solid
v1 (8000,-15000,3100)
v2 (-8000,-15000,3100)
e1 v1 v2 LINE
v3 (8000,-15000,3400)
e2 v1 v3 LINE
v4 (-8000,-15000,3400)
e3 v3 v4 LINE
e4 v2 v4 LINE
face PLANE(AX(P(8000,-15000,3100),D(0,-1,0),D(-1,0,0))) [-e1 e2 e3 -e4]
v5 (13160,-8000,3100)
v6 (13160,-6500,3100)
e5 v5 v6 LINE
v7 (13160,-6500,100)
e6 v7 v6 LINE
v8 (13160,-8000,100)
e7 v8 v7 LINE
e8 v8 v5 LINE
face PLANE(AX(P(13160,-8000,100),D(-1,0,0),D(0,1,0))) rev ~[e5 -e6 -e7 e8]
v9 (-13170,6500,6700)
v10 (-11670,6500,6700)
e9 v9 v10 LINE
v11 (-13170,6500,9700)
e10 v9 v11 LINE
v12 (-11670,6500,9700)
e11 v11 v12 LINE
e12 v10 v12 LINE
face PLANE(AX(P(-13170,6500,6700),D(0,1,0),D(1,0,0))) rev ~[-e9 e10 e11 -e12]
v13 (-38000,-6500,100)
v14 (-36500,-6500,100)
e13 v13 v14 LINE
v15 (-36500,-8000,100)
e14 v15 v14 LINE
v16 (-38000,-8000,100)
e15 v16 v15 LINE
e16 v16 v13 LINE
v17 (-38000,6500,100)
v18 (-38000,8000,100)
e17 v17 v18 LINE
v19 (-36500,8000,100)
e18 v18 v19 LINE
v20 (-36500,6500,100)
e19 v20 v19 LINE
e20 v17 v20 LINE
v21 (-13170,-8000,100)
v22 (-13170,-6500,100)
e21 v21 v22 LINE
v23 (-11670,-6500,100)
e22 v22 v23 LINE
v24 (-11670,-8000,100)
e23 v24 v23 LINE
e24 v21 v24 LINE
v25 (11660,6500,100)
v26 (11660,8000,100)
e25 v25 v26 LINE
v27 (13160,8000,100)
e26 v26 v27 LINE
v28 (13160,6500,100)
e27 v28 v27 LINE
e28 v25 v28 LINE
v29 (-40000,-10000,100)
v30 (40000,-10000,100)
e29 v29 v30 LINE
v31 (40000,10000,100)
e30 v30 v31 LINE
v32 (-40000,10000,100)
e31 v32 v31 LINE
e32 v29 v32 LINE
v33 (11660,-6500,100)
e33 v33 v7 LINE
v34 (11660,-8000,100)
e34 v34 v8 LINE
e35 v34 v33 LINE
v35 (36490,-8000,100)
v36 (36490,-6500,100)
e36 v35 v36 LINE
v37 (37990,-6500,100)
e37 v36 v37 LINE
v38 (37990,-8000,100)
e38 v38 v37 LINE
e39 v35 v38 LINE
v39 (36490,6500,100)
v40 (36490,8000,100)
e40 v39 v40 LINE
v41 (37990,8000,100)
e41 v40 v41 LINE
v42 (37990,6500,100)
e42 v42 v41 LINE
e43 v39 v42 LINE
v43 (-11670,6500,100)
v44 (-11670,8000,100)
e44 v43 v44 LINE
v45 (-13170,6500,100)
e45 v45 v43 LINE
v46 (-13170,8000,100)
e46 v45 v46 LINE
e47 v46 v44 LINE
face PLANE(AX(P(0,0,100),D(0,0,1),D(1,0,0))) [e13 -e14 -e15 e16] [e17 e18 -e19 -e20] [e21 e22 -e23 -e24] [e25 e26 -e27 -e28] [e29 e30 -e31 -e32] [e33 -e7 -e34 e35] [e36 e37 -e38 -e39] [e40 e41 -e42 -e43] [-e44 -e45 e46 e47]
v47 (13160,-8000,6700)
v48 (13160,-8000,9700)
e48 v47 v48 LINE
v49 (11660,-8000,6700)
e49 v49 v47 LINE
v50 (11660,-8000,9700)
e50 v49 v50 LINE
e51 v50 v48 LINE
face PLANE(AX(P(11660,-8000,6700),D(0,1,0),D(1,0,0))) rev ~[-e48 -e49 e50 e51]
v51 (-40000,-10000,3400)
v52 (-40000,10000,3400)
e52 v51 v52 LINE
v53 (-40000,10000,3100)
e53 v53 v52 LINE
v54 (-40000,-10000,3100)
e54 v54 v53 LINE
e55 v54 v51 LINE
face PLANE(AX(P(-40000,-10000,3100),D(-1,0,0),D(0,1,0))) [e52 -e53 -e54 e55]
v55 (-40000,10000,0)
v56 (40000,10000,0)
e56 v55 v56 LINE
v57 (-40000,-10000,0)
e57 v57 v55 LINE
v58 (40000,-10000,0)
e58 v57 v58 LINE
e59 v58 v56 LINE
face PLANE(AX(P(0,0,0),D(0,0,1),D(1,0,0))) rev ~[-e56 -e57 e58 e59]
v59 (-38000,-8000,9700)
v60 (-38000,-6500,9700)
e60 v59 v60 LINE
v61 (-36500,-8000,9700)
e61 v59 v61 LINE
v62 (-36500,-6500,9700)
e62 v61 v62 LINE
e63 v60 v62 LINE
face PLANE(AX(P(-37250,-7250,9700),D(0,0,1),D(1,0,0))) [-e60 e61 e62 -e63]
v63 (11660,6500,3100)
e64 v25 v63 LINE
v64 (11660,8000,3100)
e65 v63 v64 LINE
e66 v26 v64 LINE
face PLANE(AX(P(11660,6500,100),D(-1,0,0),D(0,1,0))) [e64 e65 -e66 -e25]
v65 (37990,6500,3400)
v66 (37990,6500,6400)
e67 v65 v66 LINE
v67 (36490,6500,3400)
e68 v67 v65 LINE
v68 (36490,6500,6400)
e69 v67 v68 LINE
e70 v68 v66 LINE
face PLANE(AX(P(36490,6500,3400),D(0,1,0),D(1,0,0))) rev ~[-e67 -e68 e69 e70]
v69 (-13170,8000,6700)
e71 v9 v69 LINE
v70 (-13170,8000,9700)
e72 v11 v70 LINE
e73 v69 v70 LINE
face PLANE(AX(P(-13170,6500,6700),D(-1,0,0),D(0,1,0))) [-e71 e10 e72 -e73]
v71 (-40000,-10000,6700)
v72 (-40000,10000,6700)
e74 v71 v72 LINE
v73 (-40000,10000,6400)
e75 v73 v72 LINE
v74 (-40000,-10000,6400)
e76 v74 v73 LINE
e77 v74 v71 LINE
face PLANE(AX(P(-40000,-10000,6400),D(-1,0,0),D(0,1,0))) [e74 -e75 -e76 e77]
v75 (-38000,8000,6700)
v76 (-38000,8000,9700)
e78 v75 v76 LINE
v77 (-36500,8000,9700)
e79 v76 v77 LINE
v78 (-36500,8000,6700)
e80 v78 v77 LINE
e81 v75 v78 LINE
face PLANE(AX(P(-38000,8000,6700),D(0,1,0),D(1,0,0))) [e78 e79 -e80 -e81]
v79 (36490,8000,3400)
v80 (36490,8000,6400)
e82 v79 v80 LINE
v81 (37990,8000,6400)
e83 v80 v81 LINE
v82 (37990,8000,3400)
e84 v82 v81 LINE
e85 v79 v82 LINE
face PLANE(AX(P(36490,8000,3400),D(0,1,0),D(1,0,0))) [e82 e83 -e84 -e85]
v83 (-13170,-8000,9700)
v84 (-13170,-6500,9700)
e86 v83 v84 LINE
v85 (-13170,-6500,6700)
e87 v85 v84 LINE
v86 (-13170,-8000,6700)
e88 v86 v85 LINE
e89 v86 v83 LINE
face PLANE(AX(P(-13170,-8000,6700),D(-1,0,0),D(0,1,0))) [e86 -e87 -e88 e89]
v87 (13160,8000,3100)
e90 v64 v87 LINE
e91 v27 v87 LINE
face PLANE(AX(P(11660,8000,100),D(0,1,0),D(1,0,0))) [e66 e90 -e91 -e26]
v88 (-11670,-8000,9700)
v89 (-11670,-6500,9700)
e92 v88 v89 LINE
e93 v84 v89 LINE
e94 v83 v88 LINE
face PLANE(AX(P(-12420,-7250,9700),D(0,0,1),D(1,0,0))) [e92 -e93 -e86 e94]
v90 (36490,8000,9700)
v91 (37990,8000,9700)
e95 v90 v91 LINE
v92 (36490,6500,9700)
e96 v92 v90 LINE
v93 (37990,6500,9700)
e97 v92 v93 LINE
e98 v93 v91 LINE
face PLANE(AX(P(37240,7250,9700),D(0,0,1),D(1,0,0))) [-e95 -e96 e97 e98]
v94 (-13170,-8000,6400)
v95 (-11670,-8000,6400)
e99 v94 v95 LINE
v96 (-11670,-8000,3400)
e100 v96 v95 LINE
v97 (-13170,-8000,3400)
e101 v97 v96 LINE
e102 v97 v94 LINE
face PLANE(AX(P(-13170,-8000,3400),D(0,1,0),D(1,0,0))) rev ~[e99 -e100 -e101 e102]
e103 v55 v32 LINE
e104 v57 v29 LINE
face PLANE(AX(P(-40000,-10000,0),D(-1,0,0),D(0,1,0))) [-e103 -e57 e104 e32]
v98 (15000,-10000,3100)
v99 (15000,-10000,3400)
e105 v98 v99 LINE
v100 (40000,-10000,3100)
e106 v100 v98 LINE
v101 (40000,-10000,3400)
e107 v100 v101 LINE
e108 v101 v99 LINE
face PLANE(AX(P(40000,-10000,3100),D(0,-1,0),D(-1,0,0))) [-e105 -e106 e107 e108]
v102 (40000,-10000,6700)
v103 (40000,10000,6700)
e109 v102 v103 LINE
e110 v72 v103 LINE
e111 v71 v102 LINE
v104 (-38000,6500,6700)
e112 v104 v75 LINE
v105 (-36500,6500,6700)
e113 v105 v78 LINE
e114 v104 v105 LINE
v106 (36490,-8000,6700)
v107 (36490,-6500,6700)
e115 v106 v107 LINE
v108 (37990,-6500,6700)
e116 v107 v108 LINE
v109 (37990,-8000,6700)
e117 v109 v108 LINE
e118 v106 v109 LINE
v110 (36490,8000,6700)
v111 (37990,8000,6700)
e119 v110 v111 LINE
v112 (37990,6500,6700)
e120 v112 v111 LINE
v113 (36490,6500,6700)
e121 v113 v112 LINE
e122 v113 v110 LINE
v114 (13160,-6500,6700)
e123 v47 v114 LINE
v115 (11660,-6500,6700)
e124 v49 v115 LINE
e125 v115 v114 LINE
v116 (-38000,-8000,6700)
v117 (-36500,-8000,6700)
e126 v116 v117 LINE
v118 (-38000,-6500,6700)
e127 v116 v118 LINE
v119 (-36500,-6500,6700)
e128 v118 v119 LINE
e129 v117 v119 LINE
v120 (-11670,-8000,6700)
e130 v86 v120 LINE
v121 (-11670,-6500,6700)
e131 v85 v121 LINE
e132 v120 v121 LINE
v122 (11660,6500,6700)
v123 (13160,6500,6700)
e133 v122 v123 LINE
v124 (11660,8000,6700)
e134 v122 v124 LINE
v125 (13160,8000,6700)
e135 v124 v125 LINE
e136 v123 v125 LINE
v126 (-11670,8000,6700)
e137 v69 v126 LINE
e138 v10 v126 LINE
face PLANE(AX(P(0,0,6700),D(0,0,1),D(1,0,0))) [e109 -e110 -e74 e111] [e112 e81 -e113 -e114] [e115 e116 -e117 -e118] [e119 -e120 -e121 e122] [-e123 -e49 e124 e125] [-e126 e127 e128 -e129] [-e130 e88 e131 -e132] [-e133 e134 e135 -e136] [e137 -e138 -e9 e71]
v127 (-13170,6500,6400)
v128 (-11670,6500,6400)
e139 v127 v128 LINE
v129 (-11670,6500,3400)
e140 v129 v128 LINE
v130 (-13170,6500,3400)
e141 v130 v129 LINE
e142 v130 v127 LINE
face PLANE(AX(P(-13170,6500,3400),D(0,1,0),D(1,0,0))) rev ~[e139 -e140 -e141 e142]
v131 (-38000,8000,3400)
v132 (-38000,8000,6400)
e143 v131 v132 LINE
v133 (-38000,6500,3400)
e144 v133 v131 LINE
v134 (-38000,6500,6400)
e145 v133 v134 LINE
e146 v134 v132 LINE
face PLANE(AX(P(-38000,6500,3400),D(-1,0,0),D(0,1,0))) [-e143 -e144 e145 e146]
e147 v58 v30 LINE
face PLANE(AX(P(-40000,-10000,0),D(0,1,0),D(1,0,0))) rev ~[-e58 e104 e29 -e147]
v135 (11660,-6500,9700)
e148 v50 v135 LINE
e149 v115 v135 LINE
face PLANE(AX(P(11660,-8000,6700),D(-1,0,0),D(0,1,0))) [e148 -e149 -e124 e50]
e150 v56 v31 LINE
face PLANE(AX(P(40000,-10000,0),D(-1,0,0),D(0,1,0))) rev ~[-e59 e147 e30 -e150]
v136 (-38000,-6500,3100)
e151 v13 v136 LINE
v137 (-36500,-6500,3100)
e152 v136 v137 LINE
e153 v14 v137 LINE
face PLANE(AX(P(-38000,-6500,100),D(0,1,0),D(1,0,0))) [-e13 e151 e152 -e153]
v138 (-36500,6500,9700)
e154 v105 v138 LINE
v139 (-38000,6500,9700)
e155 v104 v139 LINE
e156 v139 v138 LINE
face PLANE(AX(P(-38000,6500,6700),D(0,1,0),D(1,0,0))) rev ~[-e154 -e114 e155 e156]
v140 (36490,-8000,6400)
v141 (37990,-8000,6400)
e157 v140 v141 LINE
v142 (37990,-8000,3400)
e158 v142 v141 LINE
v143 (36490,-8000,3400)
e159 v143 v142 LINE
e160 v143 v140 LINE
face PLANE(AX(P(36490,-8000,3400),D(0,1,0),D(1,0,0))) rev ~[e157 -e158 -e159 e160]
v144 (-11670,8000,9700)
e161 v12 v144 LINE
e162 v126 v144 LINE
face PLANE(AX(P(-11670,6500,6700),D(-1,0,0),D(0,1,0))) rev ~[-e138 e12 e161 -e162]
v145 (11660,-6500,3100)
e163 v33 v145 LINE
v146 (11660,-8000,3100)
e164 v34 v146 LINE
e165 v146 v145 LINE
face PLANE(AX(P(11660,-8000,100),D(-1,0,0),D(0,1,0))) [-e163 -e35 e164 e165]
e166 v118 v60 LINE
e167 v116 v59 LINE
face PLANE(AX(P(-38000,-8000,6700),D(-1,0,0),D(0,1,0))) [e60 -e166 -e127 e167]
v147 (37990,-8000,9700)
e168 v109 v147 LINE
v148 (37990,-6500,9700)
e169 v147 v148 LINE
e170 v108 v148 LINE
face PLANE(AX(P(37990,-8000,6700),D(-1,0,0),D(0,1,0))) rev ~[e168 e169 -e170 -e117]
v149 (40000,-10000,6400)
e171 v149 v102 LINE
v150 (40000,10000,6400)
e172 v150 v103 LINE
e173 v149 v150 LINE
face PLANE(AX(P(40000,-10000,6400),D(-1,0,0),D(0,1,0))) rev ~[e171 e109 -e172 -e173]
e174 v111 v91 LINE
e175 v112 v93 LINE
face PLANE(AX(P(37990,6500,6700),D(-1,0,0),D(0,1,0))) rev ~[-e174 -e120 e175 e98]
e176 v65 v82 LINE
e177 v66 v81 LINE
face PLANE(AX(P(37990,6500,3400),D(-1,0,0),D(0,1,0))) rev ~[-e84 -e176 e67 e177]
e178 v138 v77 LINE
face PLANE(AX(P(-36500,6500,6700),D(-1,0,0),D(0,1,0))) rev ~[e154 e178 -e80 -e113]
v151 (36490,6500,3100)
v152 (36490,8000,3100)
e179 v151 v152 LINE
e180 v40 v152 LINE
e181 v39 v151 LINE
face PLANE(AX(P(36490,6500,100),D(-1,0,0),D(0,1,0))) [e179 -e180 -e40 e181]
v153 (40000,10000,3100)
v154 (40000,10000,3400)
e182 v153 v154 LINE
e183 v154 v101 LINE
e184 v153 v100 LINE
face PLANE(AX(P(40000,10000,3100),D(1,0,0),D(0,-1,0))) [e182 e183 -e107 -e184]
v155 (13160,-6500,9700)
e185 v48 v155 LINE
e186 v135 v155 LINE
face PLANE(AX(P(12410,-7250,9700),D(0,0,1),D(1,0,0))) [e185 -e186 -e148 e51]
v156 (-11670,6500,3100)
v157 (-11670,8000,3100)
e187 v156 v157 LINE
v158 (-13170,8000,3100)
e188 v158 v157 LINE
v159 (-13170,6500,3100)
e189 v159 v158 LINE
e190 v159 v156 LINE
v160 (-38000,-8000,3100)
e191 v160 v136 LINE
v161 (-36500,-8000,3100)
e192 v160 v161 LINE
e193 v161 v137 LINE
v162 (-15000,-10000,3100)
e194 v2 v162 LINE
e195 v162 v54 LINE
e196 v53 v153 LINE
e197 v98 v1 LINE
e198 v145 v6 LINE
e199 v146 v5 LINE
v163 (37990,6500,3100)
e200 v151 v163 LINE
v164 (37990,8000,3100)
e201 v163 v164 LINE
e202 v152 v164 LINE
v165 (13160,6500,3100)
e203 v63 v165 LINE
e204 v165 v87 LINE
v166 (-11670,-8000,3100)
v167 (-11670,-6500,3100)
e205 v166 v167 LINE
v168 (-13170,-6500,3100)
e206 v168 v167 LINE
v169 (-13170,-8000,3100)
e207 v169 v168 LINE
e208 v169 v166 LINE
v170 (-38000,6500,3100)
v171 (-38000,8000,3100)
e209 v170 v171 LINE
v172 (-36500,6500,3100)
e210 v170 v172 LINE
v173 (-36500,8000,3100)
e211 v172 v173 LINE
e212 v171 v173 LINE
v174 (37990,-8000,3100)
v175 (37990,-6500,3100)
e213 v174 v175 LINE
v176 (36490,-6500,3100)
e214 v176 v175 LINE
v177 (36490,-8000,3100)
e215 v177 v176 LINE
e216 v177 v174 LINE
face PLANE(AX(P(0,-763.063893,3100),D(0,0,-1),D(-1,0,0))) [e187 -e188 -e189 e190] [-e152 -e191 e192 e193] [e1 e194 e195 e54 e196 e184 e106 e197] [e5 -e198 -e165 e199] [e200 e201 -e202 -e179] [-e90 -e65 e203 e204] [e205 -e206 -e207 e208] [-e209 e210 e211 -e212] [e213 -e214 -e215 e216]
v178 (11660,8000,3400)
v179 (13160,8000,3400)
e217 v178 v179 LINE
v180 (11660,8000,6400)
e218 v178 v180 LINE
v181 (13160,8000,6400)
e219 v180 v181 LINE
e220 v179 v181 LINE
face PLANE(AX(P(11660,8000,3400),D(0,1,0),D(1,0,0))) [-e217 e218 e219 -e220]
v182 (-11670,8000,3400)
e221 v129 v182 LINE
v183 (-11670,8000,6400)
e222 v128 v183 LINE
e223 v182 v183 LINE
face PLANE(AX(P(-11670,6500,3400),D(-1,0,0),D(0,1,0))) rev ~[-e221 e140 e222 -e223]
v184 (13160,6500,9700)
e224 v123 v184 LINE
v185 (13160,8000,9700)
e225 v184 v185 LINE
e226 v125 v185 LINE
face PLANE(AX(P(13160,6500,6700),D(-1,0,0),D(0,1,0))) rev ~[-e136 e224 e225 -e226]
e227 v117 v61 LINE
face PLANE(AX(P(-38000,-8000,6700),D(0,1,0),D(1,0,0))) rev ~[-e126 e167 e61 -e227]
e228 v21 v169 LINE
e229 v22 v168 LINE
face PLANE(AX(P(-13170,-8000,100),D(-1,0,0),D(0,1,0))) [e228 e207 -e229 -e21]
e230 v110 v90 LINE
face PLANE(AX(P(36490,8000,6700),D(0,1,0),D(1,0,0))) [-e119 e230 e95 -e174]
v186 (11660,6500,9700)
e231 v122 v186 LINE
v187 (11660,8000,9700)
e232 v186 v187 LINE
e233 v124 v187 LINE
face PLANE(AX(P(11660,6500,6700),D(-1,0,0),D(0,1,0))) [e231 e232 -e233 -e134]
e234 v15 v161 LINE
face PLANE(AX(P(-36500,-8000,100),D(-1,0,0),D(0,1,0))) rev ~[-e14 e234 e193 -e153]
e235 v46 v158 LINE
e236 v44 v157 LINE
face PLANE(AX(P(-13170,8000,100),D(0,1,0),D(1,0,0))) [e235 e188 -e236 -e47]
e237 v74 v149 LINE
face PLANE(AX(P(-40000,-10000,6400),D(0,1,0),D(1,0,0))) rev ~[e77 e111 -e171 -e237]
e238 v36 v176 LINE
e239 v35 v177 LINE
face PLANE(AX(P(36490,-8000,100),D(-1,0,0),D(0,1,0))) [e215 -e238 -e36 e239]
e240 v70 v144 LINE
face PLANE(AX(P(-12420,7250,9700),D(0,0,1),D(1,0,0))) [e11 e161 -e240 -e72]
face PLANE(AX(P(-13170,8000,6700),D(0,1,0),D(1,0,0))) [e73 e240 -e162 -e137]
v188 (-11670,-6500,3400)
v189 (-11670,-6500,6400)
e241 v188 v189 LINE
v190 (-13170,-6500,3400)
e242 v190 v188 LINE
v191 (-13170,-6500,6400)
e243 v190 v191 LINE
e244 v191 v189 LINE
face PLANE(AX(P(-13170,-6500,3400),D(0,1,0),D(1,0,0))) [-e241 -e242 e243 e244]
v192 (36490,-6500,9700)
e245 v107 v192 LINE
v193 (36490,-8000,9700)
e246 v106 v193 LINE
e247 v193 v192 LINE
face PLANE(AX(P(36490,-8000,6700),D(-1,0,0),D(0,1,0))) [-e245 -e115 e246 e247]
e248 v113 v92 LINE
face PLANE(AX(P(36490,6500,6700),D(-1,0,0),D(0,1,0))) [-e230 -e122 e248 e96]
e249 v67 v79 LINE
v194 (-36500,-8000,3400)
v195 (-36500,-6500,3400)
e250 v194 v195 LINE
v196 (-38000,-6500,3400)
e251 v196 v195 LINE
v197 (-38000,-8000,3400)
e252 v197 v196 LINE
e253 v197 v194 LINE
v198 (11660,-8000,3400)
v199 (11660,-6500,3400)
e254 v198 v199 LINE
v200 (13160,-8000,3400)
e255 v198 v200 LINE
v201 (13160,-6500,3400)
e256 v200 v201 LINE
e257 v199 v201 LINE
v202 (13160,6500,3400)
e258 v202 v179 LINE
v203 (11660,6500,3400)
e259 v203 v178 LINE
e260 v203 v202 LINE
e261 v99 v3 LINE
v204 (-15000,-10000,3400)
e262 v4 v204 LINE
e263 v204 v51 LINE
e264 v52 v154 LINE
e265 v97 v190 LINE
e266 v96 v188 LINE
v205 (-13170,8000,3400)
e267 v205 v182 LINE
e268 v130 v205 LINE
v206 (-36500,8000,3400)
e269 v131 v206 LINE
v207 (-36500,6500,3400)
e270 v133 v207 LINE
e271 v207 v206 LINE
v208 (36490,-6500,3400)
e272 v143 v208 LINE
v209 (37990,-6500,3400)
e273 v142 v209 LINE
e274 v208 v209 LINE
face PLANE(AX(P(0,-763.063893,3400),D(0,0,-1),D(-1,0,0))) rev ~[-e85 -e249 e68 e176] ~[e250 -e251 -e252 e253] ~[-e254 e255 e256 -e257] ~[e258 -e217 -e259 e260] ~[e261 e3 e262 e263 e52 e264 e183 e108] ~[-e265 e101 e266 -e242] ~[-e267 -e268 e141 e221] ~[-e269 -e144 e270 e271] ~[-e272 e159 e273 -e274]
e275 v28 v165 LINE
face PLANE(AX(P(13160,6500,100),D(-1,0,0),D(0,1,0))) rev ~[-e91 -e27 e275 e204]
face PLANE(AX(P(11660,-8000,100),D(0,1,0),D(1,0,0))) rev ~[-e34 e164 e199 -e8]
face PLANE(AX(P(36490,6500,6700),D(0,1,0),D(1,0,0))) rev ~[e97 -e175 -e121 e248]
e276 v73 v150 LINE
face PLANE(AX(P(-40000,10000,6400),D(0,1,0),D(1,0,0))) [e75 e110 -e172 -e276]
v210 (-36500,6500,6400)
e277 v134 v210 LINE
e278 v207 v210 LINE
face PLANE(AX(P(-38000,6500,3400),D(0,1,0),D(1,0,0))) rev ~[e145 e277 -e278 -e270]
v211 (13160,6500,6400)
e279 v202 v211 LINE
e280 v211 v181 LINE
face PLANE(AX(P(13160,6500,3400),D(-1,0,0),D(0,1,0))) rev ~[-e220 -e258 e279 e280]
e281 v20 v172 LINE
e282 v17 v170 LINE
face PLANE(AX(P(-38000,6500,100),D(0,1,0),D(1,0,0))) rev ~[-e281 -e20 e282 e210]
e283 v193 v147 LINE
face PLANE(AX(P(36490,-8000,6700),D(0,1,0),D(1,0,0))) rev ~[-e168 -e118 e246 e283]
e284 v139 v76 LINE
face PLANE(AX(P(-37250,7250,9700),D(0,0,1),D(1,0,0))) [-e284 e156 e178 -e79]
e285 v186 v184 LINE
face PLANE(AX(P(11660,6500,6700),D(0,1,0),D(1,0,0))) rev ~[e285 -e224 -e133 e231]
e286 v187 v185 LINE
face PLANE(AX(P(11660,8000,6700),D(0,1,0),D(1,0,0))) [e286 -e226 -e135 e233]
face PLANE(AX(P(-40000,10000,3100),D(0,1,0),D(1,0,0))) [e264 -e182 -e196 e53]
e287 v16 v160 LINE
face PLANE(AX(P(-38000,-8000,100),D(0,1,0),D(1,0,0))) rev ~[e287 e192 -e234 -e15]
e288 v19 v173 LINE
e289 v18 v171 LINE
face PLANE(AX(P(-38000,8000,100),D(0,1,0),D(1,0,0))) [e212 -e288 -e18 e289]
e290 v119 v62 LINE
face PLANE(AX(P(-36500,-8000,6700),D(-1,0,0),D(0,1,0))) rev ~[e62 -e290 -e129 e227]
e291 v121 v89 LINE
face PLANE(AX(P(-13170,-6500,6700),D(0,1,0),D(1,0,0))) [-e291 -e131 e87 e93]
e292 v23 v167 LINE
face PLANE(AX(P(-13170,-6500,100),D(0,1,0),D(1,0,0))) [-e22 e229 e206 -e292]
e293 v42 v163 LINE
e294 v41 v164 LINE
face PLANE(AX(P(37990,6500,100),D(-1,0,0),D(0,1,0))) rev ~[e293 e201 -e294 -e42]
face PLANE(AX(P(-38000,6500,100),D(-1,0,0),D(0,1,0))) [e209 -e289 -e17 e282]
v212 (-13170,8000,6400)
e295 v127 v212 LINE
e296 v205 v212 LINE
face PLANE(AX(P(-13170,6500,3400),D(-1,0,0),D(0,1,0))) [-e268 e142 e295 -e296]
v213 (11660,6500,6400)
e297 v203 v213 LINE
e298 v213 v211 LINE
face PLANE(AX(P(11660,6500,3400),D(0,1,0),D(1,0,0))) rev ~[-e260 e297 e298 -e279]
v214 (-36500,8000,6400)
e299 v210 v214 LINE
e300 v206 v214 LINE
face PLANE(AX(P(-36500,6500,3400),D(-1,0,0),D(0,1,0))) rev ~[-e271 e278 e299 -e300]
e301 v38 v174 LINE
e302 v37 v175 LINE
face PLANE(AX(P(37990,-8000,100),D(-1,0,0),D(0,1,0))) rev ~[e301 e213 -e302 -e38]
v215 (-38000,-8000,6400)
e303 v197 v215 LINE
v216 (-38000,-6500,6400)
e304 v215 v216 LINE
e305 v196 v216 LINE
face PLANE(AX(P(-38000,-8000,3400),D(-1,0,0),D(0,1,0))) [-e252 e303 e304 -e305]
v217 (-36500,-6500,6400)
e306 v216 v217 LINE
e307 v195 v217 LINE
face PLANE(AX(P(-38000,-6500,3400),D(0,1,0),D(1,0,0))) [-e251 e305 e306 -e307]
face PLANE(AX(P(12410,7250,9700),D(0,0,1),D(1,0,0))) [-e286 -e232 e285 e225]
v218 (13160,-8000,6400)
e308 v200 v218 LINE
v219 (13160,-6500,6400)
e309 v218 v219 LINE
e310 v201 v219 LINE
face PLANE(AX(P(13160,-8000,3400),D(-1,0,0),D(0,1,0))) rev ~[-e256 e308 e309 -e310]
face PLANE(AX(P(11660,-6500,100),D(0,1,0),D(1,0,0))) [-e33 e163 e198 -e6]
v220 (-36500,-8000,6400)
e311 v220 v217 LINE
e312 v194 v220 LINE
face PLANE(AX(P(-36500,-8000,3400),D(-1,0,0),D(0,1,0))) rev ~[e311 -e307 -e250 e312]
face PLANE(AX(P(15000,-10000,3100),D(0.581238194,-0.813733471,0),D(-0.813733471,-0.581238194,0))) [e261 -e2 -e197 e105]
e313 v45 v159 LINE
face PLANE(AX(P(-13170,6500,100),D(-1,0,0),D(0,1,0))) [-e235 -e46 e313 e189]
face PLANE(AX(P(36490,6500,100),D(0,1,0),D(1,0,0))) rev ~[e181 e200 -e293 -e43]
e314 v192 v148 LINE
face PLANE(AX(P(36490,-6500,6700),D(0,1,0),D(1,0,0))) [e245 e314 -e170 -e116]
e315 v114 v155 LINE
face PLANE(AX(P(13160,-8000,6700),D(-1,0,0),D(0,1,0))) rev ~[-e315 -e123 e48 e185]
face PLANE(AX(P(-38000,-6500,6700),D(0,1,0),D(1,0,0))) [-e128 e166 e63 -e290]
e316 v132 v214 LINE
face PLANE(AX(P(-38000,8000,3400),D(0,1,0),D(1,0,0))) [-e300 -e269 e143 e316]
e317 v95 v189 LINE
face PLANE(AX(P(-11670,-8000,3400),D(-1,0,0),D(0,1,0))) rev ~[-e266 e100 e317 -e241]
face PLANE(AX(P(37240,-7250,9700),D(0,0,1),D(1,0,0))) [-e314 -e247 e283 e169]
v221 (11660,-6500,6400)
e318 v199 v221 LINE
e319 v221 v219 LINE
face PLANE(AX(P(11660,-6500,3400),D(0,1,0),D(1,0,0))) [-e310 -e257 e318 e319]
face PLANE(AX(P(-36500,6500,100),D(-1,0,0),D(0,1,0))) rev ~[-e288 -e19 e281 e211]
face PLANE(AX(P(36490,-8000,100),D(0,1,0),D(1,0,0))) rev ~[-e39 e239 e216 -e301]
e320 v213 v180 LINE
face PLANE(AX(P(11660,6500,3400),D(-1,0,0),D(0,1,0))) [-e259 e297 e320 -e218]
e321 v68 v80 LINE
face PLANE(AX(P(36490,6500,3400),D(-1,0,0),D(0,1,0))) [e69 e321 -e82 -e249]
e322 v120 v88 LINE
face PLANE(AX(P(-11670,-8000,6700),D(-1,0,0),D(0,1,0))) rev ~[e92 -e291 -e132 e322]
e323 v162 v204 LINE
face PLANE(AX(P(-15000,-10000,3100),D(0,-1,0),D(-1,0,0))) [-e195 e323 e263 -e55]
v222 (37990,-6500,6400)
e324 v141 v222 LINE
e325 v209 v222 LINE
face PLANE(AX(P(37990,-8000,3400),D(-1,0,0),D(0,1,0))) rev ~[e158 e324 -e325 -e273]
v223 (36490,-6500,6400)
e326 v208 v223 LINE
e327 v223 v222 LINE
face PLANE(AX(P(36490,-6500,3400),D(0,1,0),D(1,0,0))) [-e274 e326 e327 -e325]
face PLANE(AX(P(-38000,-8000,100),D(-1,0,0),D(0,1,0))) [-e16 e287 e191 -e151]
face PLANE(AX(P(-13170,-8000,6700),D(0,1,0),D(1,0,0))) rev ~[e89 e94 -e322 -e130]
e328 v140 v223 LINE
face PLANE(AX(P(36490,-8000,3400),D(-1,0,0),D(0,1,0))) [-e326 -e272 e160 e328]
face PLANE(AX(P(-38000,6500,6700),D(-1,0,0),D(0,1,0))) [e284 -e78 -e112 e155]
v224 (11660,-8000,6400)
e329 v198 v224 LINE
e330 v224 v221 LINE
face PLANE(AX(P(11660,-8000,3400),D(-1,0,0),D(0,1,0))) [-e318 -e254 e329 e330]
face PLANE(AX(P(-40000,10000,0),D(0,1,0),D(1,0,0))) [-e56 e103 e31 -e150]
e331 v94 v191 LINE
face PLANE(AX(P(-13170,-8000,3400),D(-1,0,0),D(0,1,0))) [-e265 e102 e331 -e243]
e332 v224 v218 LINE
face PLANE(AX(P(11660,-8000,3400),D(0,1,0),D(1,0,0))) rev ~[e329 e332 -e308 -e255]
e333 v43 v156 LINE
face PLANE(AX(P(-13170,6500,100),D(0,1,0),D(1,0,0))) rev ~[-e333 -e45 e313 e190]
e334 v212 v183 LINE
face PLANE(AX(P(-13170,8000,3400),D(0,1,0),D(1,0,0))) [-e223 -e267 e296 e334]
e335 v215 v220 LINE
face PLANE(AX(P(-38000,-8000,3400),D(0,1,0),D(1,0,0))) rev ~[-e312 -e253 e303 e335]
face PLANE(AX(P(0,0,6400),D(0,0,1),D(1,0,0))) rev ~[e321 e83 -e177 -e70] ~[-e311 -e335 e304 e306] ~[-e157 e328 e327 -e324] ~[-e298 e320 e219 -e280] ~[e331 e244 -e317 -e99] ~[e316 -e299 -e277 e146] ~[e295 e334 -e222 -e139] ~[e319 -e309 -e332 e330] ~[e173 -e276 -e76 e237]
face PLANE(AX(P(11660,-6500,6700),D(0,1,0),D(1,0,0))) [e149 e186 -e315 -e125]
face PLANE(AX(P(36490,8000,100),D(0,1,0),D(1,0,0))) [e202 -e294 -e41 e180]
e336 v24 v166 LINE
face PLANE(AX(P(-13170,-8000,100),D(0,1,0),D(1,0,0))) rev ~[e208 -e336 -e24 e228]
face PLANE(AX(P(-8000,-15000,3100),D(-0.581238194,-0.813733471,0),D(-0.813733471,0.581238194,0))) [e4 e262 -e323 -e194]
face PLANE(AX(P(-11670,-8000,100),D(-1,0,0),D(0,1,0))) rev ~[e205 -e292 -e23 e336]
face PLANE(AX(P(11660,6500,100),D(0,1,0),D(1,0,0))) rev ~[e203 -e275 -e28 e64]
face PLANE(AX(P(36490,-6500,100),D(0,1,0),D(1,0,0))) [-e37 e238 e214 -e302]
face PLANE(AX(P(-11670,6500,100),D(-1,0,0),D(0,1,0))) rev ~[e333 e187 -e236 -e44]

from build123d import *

# Parameters (mm, degrees)
SKETCH1_W                 = 80
SKETCH1_H                 = 20
BOSS_EXTRUDE1_DEPTH       = 0.1
SKETCH3_W                 = 1.5
SKETCH3_H                 = 1.5
BOSS_EXTRUDE2_DEPTH       = 3
BOSS_EXTRUDE3_DEPTH       = 0.3
LPATTERN1_COUNT           = 2
LPATTERN1_PITCH           = 3.3
SKETCH6_W                 = 80
SKETCH6_H                 = 20
BOSS_EXTRUDE4_DEPTH       = 0.3
LPATTERN3_COPY_1_SKETCH_W = 1.5
LPATTERN3_COPY_1_SKETCH_H = 1.5
LPATTERN3_COPY_1_DEPTH    = 3
LPATTERN3_COPY_2_SKETCH_W = 1.5
LPATTERN3_COPY_2_SKETCH_H = 1.5
LPATTERN3_COPY_2_DEPTH    = 3
SCALE1_SCALE              = 1000


with BuildPart() as part:
    # Sketch1 → Boss-Extrude1 (new body)
    with BuildSketch(Plane.XY):
        Rectangle(SKETCH1_W, SKETCH1_H)
    extrude(amount=BOSS_EXTRUDE1_DEPTH)

    # Sketch3 → Boss-Extrude2 (add)
    with BuildSketch(Plane.XY.offset(0.1)):
        with Locations((-37.25, 7.25)):
            Rectangle(SKETCH3_W, SKETCH3_H)
        with Locations((-12.42, 7.25)):
            Rectangle(SKETCH3_W, SKETCH3_H)
        with Locations((12.41, 7.25)):
            Rectangle(SKETCH3_W, SKETCH3_H)
        with Locations((37.24, 7.25)):
            Rectangle(SKETCH3_W, SKETCH3_H)
        with Locations((-12.42, -7.25)):
            Rectangle(SKETCH3_W, SKETCH3_H)
        with Locations((12.41, -7.25)):
            Rectangle(SKETCH3_W, SKETCH3_H)
        with Locations((37.24, -7.25)):
            Rectangle(SKETCH3_W, SKETCH3_H)
        with Locations((-37.25, -7.25)):
            Rectangle(SKETCH3_W, SKETCH3_H)
    boss_extrude2 = extrude(amount=BOSS_EXTRUDE2_DEPTH)

    # Sketch4 → Boss-Extrude3 (add)
    with BuildSketch(Plane.XY.offset(3.1)):
        Polygon((-40, 10), (40, 10), (40, -10), (15, -10), (8, -15), (-8, -15), (-15, -10), (-40, -10), align=None)
    extrude(amount=BOSS_EXTRUDE3_DEPTH)

    # LPattern1: Boss-Extrude2 ×2
    with Locations(*[(0, 0, i * LPATTERN1_PITCH) for i in range(1, LPATTERN1_COUNT)]):
        add(boss_extrude2)

    # Sketch6 → Boss-Extrude4 (add)
    with BuildSketch(Plane.XY.offset(6.4)):
        Rectangle(SKETCH6_W, SKETCH6_H)
    extrude(amount=BOSS_EXTRUDE4_DEPTH)

    # LPattern3 copy 1 sketch → LPattern3 copy 1 (add)
    with BuildSketch(Plane.XY.offset(6.7)):
        with Locations((-37.25, 7.25)):
            Rectangle(LPATTERN3_COPY_1_SKETCH_W, LPATTERN3_COPY_1_SKETCH_H)
        with Locations((-12.42, 7.25)):
            Rectangle(LPATTERN3_COPY_1_SKETCH_W, LPATTERN3_COPY_1_SKETCH_H)
        with Locations((12.41, 7.25)):
            Rectangle(LPATTERN3_COPY_1_SKETCH_W, LPATTERN3_COPY_1_SKETCH_H)
        with Locations((37.24, 7.25)):
            Rectangle(LPATTERN3_COPY_1_SKETCH_W, LPATTERN3_COPY_1_SKETCH_H)
        with Locations((-12.42, -7.25)):
            Rectangle(LPATTERN3_COPY_1_SKETCH_W, LPATTERN3_COPY_1_SKETCH_H)
        with Locations((12.41, -7.25)):
            Rectangle(LPATTERN3_COPY_1_SKETCH_W, LPATTERN3_COPY_1_SKETCH_H)
        with Locations((37.24, -7.25)):
            Rectangle(LPATTERN3_COPY_1_SKETCH_W, LPATTERN3_COPY_1_SKETCH_H)
        with Locations((-37.25, -7.25)):
            Rectangle(LPATTERN3_COPY_1_SKETCH_W, LPATTERN3_COPY_1_SKETCH_H)
    extrude(amount=LPATTERN3_COPY_1_DEPTH)

    # LPattern3 copy 2 sketch → LPattern3 copy 2 (add)
    with BuildSketch(Plane.XY.offset(3.4)):
        with Locations((-37.25, 7.25)):
            Rectangle(LPATTERN3_COPY_2_SKETCH_W, LPATTERN3_COPY_2_SKETCH_H)
        with Locations((-12.42, 7.25)):
            Rectangle(LPATTERN3_COPY_2_SKETCH_W, LPATTERN3_COPY_2_SKETCH_H)
        with Locations((12.41, 7.25)):
            Rectangle(LPATTERN3_COPY_2_SKETCH_W, LPATTERN3_COPY_2_SKETCH_H)
        with Locations((37.24, 7.25)):
            Rectangle(LPATTERN3_COPY_2_SKETCH_W, LPATTERN3_COPY_2_SKETCH_H)
        with Locations((-12.42, -7.25)):
            Rectangle(LPATTERN3_COPY_2_SKETCH_W, LPATTERN3_COPY_2_SKETCH_H)
        with Locations((12.41, -7.25)):
            Rectangle(LPATTERN3_COPY_2_SKETCH_W, LPATTERN3_COPY_2_SKETCH_H)
        with Locations((37.24, -7.25)):
            Rectangle(LPATTERN3_COPY_2_SKETCH_W, LPATTERN3_COPY_2_SKETCH_H)
        with Locations((-37.25, -7.25)):
            Rectangle(LPATTERN3_COPY_2_SKETCH_W, LPATTERN3_COPY_2_SKETCH_H)
    extrude(amount=LPATTERN3_COPY_2_DEPTH)


with BuildPart() as part_1:
    # Scale1: scaled about (0, 0, 0)
    add(part.part.scale(SCALE1_SCALE))


solid = part_1.part
